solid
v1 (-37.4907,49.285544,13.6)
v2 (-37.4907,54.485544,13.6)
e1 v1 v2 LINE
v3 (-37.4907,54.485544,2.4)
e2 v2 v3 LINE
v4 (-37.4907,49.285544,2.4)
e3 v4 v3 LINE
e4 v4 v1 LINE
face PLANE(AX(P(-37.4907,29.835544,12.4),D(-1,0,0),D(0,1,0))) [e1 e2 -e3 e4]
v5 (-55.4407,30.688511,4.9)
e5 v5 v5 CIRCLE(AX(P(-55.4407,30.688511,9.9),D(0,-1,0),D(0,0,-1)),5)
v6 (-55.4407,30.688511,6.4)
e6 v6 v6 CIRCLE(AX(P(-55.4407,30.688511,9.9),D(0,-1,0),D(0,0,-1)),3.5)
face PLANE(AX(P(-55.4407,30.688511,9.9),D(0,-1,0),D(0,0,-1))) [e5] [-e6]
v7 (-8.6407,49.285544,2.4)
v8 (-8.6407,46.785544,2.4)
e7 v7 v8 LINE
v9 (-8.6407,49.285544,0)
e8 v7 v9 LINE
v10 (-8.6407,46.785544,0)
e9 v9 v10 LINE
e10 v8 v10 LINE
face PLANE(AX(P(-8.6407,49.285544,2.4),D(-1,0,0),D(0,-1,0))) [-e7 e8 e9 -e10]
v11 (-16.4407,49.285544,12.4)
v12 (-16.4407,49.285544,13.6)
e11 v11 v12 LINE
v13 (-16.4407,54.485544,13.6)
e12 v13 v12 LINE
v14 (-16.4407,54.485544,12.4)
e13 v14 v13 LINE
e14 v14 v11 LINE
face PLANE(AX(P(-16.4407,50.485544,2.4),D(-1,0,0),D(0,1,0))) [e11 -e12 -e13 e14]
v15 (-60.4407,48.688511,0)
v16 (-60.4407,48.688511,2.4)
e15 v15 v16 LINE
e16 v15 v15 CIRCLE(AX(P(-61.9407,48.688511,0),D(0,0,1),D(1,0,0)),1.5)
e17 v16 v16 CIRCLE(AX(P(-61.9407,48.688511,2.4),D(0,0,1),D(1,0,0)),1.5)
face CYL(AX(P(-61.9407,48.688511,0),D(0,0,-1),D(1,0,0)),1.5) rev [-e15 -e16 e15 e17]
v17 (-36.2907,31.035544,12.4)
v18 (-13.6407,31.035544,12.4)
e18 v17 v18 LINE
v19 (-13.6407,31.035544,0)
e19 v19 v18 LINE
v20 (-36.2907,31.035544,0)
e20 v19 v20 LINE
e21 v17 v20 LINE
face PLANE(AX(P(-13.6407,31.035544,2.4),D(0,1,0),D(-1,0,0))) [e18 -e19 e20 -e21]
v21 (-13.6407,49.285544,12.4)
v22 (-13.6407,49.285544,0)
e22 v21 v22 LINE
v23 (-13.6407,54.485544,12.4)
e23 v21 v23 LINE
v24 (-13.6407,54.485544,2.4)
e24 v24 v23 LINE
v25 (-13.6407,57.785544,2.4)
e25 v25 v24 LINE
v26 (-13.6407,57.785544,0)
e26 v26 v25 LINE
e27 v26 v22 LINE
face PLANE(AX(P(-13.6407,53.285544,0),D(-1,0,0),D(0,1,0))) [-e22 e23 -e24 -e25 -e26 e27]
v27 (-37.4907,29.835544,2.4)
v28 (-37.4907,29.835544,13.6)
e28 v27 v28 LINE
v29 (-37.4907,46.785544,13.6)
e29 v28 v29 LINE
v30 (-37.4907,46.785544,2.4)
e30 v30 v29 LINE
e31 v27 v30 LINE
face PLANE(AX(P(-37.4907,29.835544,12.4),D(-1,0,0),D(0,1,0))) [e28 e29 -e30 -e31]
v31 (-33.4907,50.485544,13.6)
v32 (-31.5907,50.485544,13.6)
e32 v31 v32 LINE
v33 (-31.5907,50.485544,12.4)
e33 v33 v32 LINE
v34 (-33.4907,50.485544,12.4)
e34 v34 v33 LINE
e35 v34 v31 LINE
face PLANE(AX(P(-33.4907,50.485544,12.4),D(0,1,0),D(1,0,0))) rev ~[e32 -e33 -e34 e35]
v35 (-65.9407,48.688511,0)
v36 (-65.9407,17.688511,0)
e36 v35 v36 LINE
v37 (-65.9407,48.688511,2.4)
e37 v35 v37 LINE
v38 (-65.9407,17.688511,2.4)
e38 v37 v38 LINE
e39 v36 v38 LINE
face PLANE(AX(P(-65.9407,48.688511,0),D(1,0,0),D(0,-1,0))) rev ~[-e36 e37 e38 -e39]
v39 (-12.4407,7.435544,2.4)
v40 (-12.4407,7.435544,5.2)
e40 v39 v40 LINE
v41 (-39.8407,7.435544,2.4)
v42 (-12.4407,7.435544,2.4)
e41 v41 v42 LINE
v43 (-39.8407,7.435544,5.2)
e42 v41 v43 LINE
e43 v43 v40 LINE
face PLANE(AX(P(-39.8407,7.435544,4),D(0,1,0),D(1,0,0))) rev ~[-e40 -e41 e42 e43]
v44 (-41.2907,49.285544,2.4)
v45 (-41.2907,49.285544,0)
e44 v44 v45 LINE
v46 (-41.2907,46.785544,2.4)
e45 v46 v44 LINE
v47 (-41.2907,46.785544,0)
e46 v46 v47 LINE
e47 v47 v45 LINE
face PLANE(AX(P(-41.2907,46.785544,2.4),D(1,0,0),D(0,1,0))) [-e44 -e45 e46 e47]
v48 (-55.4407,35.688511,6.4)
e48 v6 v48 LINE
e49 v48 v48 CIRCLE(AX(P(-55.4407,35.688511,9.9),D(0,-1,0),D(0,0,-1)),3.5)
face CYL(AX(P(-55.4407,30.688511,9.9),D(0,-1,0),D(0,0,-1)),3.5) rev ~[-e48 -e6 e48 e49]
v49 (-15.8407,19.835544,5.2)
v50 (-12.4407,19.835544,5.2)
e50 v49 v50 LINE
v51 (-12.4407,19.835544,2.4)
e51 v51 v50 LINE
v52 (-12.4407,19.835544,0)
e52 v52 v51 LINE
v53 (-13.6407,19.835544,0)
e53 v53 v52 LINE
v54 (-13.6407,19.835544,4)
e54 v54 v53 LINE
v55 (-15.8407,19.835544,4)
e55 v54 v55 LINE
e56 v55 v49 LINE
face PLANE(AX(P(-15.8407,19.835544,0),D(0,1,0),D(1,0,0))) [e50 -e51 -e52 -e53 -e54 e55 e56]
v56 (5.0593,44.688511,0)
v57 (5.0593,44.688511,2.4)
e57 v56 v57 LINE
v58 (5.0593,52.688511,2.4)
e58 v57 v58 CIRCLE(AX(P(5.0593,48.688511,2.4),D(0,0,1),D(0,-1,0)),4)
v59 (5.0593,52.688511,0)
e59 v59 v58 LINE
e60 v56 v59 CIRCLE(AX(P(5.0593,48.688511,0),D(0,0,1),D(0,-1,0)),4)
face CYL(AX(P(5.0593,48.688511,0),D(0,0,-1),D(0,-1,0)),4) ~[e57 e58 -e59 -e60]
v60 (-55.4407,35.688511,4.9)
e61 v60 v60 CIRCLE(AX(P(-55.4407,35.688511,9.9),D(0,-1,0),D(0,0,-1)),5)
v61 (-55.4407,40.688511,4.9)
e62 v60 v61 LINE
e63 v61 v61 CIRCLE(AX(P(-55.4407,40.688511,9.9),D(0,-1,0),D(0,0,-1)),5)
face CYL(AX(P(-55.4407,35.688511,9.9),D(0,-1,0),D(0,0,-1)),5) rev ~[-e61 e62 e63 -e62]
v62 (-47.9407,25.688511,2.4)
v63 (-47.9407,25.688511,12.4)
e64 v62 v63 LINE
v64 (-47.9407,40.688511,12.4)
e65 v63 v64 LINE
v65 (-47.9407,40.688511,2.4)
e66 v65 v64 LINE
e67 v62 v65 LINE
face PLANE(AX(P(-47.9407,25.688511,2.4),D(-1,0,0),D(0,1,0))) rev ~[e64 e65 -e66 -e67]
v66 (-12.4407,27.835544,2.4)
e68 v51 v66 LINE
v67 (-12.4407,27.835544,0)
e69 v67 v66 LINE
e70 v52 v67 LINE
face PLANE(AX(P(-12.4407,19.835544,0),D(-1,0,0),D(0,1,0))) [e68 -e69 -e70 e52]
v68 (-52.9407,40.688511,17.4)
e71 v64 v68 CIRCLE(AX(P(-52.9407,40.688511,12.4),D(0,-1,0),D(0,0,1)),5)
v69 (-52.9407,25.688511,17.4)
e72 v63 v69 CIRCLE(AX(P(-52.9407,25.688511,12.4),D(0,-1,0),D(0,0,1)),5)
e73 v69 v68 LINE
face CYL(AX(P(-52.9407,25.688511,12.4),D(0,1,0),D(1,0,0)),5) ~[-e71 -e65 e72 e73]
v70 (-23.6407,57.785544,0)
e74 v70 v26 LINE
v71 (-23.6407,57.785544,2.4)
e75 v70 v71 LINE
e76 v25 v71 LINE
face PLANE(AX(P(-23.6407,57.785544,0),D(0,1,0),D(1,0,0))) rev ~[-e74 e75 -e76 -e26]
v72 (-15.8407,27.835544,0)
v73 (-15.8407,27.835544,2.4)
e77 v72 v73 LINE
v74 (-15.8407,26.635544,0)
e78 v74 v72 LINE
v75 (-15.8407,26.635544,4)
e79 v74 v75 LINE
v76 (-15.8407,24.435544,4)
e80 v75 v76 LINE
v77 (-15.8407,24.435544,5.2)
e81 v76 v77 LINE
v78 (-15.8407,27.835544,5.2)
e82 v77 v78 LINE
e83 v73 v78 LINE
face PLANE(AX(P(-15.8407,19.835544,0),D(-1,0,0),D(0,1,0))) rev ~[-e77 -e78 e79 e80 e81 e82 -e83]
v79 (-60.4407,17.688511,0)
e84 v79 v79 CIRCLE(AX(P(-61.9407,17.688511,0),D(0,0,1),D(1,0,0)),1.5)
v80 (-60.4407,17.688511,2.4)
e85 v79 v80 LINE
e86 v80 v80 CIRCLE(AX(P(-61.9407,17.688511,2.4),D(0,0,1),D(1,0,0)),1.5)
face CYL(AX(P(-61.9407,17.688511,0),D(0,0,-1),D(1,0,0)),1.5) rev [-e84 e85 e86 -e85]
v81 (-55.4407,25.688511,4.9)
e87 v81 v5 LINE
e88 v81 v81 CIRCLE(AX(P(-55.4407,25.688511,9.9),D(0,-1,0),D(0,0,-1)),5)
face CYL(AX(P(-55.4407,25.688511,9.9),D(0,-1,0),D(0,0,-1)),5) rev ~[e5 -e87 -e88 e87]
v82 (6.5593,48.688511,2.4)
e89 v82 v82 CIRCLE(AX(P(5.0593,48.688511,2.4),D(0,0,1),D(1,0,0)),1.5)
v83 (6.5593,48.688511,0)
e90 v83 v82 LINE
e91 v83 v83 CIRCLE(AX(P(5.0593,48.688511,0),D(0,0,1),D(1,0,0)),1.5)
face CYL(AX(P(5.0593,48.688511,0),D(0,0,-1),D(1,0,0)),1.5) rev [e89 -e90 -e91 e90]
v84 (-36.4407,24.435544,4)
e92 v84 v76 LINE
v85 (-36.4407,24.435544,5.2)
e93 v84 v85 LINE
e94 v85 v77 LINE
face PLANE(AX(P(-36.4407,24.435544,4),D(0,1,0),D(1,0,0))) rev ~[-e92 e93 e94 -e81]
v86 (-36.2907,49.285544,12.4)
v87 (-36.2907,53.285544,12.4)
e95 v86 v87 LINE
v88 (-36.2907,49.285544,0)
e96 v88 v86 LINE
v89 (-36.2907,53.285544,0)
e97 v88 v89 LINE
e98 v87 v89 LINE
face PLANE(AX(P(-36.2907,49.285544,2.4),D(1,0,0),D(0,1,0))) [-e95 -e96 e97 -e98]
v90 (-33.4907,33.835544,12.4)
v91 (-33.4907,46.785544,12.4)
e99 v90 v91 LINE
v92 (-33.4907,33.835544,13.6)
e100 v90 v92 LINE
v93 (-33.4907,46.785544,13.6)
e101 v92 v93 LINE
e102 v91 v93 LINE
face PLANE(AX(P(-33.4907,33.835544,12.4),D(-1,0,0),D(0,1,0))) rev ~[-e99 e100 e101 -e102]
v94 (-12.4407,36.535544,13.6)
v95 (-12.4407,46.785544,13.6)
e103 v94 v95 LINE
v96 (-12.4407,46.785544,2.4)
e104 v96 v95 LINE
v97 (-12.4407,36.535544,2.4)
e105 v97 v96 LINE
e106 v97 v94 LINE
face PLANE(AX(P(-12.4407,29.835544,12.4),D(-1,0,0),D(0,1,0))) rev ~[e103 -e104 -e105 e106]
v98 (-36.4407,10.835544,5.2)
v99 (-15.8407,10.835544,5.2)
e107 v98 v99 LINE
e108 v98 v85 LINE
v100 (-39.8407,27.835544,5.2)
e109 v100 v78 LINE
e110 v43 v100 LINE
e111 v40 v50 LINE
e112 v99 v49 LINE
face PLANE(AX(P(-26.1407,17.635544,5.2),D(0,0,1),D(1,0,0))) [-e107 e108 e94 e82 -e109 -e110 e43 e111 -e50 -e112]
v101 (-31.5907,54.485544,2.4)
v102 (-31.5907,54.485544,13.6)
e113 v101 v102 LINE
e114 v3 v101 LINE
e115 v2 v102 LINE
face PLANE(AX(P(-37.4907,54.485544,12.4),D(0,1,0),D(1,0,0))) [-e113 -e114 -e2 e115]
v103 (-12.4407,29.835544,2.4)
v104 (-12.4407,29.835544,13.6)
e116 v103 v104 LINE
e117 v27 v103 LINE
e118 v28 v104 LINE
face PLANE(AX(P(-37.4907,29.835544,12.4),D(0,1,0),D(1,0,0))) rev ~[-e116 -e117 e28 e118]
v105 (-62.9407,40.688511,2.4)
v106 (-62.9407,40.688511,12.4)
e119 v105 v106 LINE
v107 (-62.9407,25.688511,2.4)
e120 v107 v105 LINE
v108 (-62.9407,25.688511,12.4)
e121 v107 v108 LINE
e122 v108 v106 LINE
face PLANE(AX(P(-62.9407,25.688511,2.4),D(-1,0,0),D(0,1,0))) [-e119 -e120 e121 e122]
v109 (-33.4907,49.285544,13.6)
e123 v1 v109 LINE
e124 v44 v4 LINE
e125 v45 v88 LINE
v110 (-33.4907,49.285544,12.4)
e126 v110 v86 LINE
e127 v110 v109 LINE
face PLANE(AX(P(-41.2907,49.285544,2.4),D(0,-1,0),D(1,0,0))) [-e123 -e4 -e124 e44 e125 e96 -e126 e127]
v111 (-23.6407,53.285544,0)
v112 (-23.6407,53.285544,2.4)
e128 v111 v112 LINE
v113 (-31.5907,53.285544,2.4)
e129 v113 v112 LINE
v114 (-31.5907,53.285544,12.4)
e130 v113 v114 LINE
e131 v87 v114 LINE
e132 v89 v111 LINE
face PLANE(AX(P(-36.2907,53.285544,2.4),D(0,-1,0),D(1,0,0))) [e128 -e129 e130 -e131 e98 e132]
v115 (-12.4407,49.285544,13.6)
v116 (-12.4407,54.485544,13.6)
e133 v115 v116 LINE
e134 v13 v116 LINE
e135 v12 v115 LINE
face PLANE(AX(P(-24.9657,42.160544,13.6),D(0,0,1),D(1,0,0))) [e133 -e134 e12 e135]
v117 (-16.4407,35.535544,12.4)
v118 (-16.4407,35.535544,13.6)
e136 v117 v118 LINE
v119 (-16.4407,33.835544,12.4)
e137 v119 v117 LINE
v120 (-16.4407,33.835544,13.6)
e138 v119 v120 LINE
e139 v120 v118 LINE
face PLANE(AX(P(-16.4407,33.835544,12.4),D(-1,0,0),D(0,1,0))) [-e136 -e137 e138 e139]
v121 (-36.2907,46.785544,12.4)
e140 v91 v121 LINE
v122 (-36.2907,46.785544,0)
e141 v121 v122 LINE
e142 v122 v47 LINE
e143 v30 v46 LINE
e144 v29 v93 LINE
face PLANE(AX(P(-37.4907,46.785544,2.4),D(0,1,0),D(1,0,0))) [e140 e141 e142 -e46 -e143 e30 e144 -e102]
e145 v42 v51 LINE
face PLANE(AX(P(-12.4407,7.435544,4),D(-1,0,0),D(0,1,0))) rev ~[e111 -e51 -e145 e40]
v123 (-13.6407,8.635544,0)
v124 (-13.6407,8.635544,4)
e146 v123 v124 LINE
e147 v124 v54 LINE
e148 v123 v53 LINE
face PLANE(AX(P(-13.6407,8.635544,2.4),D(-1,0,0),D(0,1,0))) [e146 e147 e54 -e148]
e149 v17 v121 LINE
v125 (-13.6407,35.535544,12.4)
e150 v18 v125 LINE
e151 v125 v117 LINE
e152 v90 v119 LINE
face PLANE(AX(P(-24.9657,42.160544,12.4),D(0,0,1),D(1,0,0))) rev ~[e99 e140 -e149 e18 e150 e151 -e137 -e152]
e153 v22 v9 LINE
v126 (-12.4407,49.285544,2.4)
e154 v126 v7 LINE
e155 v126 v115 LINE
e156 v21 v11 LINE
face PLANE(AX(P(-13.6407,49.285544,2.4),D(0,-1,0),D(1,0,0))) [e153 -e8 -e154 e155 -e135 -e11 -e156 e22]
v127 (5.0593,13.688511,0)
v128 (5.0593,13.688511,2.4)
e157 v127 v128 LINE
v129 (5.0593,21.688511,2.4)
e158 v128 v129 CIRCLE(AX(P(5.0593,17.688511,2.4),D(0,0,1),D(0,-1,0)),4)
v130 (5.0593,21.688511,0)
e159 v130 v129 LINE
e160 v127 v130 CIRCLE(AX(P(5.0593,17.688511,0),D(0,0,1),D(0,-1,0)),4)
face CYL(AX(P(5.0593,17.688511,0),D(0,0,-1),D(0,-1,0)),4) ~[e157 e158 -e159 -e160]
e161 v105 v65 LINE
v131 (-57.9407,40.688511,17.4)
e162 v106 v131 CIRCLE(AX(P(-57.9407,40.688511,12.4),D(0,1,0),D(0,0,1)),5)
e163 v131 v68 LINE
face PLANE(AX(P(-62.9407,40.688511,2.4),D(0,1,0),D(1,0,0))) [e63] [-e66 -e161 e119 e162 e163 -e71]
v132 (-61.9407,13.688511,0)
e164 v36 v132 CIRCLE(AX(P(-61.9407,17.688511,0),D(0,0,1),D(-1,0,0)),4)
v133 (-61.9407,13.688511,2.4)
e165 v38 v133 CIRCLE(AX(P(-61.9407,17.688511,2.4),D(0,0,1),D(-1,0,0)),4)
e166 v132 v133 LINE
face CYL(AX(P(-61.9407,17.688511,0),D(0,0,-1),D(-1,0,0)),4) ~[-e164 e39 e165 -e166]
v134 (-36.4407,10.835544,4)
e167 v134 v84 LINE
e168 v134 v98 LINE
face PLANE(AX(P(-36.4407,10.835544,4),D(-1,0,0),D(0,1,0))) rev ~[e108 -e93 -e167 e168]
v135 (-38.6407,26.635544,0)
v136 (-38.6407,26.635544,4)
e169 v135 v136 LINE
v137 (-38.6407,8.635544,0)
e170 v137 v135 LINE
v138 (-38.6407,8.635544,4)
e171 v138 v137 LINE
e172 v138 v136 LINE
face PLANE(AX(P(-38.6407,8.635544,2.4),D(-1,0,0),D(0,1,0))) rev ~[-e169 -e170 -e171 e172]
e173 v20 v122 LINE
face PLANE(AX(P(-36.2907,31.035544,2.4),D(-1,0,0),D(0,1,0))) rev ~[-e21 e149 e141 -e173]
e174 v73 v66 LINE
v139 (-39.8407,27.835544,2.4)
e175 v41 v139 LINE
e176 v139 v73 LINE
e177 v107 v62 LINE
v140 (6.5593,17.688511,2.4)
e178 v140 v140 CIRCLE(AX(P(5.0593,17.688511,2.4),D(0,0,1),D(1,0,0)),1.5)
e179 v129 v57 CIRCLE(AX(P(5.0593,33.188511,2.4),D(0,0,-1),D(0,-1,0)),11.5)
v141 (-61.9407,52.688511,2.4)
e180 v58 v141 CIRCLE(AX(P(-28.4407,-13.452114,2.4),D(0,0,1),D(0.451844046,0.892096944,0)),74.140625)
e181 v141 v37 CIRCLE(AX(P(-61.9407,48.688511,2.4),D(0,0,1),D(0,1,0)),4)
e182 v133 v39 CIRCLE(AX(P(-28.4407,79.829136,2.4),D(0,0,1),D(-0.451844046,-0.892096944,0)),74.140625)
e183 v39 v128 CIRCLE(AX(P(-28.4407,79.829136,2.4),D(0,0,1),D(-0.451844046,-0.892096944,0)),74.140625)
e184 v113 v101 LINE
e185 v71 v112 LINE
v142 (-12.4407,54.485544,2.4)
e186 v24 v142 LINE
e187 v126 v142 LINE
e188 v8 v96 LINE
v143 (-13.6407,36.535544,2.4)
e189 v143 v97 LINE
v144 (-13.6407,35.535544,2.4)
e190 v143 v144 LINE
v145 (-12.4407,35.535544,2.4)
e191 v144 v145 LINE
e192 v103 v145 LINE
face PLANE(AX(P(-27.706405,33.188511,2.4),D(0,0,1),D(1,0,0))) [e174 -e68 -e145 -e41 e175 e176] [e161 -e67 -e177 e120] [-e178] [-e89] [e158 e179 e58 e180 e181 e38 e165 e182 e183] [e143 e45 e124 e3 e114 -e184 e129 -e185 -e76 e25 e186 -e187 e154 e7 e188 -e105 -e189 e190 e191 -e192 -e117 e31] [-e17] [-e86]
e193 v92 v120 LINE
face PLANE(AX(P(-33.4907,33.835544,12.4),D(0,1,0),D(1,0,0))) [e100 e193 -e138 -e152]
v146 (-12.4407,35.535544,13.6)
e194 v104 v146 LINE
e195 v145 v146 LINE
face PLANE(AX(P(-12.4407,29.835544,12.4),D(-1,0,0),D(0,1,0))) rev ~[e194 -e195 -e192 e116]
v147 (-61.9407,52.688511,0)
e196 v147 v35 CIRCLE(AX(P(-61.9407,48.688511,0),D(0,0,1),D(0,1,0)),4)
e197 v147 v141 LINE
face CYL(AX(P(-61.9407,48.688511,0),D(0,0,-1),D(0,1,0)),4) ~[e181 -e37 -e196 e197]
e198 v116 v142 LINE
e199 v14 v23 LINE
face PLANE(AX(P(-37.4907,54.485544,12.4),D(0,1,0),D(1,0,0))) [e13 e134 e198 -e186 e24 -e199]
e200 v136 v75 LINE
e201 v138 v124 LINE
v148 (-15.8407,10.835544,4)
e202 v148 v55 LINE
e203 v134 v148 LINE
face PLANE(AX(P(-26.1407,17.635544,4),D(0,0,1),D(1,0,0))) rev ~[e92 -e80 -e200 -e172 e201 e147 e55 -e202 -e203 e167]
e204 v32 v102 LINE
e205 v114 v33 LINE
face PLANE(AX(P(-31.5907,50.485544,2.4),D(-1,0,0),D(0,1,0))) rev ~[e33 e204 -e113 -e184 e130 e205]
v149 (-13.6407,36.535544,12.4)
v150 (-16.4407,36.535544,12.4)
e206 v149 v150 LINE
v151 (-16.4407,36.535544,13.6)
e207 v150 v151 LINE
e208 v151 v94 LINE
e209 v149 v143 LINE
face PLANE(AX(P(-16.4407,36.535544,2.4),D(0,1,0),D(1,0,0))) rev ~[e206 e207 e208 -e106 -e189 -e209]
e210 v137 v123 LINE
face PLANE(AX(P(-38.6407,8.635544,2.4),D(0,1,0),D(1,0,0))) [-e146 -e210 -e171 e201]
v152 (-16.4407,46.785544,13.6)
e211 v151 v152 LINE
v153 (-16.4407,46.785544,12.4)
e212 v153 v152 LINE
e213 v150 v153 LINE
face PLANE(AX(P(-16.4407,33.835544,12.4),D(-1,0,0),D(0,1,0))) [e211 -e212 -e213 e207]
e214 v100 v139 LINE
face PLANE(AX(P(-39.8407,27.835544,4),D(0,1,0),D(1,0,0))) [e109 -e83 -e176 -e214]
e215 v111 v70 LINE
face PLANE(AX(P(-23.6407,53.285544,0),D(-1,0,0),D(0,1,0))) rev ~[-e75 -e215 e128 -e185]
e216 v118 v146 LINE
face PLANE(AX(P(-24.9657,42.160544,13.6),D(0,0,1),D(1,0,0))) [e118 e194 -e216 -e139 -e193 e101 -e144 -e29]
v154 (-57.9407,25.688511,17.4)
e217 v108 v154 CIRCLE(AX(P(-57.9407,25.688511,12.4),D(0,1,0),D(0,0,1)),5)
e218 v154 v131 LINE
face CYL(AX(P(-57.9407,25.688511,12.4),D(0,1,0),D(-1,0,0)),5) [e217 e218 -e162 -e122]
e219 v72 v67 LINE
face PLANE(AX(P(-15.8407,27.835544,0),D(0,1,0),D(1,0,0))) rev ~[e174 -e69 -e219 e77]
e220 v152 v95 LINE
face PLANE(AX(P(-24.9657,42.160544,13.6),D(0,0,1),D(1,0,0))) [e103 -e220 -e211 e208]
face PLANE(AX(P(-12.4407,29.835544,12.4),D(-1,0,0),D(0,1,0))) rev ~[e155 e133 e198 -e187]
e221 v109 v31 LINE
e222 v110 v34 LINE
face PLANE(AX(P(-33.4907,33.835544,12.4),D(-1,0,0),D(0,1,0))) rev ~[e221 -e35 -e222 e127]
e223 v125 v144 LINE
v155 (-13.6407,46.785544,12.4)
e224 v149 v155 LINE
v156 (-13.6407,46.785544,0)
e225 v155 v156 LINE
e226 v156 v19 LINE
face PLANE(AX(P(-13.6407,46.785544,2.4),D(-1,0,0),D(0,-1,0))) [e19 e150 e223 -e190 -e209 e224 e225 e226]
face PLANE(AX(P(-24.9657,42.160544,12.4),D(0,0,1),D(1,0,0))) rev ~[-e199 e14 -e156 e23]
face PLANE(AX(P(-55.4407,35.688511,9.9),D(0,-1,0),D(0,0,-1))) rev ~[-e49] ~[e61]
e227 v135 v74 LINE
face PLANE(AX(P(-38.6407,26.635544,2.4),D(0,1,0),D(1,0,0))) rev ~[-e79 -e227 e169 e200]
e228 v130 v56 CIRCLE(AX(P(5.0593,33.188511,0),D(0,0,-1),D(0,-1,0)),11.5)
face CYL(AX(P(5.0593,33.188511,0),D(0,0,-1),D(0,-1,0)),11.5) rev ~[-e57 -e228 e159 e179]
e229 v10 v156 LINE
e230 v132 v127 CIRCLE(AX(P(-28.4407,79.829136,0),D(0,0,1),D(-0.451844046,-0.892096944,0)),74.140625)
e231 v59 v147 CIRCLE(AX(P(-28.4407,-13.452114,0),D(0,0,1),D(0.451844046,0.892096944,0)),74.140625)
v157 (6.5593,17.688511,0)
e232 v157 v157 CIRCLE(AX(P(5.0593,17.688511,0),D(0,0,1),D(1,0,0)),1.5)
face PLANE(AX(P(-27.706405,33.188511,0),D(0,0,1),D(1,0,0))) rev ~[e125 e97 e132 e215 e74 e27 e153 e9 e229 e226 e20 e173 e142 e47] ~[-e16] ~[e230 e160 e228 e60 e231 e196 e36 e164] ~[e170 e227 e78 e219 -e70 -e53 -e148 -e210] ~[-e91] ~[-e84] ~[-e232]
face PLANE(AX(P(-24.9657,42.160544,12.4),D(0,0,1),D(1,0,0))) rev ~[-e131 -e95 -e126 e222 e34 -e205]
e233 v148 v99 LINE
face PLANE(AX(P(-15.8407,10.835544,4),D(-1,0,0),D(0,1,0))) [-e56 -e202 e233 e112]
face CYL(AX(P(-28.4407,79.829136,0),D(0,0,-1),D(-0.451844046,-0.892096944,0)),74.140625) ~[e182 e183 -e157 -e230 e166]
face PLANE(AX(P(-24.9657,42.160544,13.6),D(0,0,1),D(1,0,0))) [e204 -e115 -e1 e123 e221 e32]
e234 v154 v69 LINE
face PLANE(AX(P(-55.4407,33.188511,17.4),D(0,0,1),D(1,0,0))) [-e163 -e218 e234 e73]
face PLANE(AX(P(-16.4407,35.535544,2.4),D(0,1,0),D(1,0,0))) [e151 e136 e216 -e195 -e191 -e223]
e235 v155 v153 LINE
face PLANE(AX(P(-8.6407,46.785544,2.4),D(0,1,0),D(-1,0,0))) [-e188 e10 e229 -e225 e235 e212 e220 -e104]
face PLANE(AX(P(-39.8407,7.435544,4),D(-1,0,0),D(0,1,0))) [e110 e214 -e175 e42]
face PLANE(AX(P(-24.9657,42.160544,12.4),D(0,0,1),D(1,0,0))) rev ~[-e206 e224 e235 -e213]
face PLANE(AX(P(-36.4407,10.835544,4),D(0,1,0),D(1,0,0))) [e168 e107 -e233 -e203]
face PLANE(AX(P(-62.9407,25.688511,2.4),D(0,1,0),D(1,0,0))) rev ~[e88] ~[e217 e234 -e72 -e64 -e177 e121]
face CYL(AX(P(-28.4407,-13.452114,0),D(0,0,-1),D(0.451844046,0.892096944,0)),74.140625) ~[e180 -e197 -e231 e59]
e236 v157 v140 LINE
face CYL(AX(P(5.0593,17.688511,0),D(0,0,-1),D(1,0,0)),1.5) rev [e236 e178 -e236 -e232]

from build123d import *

# Parameters (mm, degrees)
CROQUIS1_R                 = 1.5
SALIENTE_EXTRUIR1_DEPTH    = 2.4
CROQUIS3_W                 = 25.05
CROQUIS3_H                 = 24.65
CROQUIS3_W_2               = 22.65
CROQUIS3_H_2               = 22.25
SALIENTE_EXTRUIR2_DEPTH    = 10
CROQUIS4_W                 = 25.05
CROQUIS4_H                 = 24.65
CROQUIS4_W_2               = 17.05
CROQUIS4_H_2               = 16.65
SALIENTE_EXTRUIR3_DEPTH    = 1.2
CORTAR_EXTRUIR1_START      = -11.2
CROQUIS5_W                 = 4
CROQUIS5_H                 = 2.5
CROQUIS5_W_2               = 15.15
CROQUIS5_H_2               = 4
CROQUIS5_H_3               = 1
CORTAR_EXTRUIR1_DEPTH      = 11.2
CROQUIS6_W                 = 27.4
CROQUIS6_H                 = 20.4
CROQUIS6_W_2               = 25
CROQUIS6_H_2               = 18
SALIENTE_EXTRUIR4_DEPTH    = 1.6
CROQUIS8_W                 = 15
CROQUIS8_H                 = 15
SALIENTE_EXTRUIR5_DEPTH    = 15
CROQUIS10_R                = 5
CORTAR_EXTRUIR2_DEPTH      = 5
CORTAR_EXTRUIR3_START      = -10
CROQUIS10_2_R              = 5
CORTAR_EXTRUIR3_DEPTH      = 5
CROQUIS11_R                = 3.5
CORTAR_EXTRUIR4_DEPTH      = 5
CORTAR_EXTRUIR5_DEPTH      = 2.4
CORTAR_EXTRUIR6_DEPTH      = 10
CORTAR_EXTRUIR6_DEPTH_BACK = 2.4
CROQUIS13_W                = 10
CROQUIS13_H                = 4.5
CROQUIS14_W                = 27.4
CROQUIS14_H                = 20.4
CROQUIS14_W_2              = 20.6
CROQUIS14_H_2              = 13.6
SALIENTE_EXTRUIR6_DEPTH    = 1.2
CROQUIS15_W                = 25
CROQUIS15_H                = 18
CORTAR_EXTRUIR7_DEPTH      = 2.4
CORTAR_EXTRUIR8_START      = -5.2
CROQUIS16_W                = 3.4
CROQUIS16_H                = 8
CORTAR_EXTRUIR8_DEPTH      = 5.2
REDONDEO1_R                = 5


with BuildPart() as part:
    # Croquis1 → Saliente-Extruir1 (new body)
    with BuildSketch(Plane.XY):
        with BuildLine():
            Line((-65.940699516, 48.688511327), (-65.940699516, 17.688511327))
            ThreePointArc((-65.940699516, 17.688511327), (-64.76912664, 14.860084202), (-61.940699516, 13.688511327))
            ThreePointArc((-61.940699516, 13.688511327), (-28.440699516, 5.688511327), (5.059300484, 13.688511327))
            ThreePointArc((5.059300484, 13.688511327), (9.059300484, 17.688511327), (5.059300484, 21.688511327))
            ThreePointArc((5.059300484, 21.688511327), (-6.440699516, 33.188511327), (5.059300484, 44.688511327))
            ThreePointArc((5.059300484, 44.688511327), (9.059300484, 48.688511327), (5.059300484, 52.688511327))
            ThreePointArc((5.059300484, 52.688511327), (-28.440699516, 60.688511327), (-61.940699516, 52.688511327))
            ThreePointArc((-61.940699516, 52.688511327), (-64.76912664, 51.516938452), (-65.940699516, 48.688511327))
        make_face()
        with Locations((-61.940699516, 48.688511327)):
            Circle(CROQUIS1_R, mode=Mode.SUBTRACT)
        with Locations((5.059300484, 48.688511327)):
            Circle(CROQUIS1_R, mode=Mode.SUBTRACT)
        with Locations((5.059300484, 17.688511327)):
            Circle(CROQUIS1_R, mode=Mode.SUBTRACT)
        with Locations((-61.940699516, 17.688511327)):
            Circle(CROQUIS1_R, mode=Mode.SUBTRACT)
    extrude(amount=SALIENTE_EXTRUIR1_DEPTH)

    # Croquis3 → Saliente-Extruir2 (add)
    with BuildSketch(Plane.XY.offset(2.4)):
        with Locations((-24.965699516, 42.160543548)):
            Rectangle(CROQUIS3_W, CROQUIS3_H)
        with Locations((-24.965699516, 42.160543548)):
            Rectangle(CROQUIS3_W_2, CROQUIS3_H_2, mode=Mode.SUBTRACT)
    extrude(amount=SALIENTE_EXTRUIR2_DEPTH)

    # Croquis4 → Saliente-Extruir3 (add)
    with BuildSketch(Plane.XY.offset(12.4)):
        with Locations((-24.965699516, 42.160543548)):
            Rectangle(CROQUIS4_W, CROQUIS4_H)
        with Locations((-24.965699516, 42.160543548)):
            Rectangle(CROQUIS4_W_2, CROQUIS4_H_2, mode=Mode.SUBTRACT)
    extrude(amount=SALIENTE_EXTRUIR3_DEPTH)

    # Croquis5 → Cortar-Extruir1 (cut)
    with BuildSketch(Plane.XY.offset(13.6).offset(CORTAR_EXTRUIR1_START)):
        with Locations((-35.490699516, 48.035543548)):
            Rectangle(CROQUIS5_W, CROQUIS5_H)
        with Locations((-24.015699516, 52.485543548)):
            Rectangle(CROQUIS5_W_2, CROQUIS5_H_2)
        with Locations((-14.440699516, 36.035543548)):
            Rectangle(CROQUIS5_W, CROQUIS5_H_3)
        with Locations((-14.440699516, 48.035543548)):
            Rectangle(CROQUIS5_W, CROQUIS5_H)
    extrude(amount=CORTAR_EXTRUIR1_DEPTH, mode=Mode.SUBTRACT)

    # Croquis6 → Saliente-Extruir4 (add)
    with BuildSketch(Plane.XY.offset(2.4)):
        with Locations((-26.140699516, 17.635543548)):
            Rectangle(CROQUIS6_W, CROQUIS6_H)
        with Locations((-26.140699516, 17.635543548)):
            Rectangle(CROQUIS6_W_2, CROQUIS6_H_2, mode=Mode.SUBTRACT)
    extrude(amount=SALIENTE_EXTRUIR4_DEPTH)

    # Croquis8 → Saliente-Extruir5 (add)
    with BuildSketch(Plane.XY.offset(2.4)):
        with Locations((-55.440699516, 33.188511327)):
            Rectangle(CROQUIS8_W, CROQUIS8_H)
    extrude(amount=SALIENTE_EXTRUIR5_DEPTH)

    # Croquis10 → Cortar-Extruir2 (cut)
    with BuildSketch(Plane.XZ.offset(-25.688511327)):
        with Locations(Location((-55.440699516, 9.9, 0), (0, 0, 270))):
            Circle(CROQUIS10_R)
    extrude(amount=-CORTAR_EXTRUIR2_DEPTH, mode=Mode.SUBTRACT)

    # Croquis10<2> → Cortar-Extruir3 (cut)
    with BuildSketch(Plane.XZ.offset(-25.688511327).offset(CORTAR_EXTRUIR3_START)):
        with Locations(Location((-55.440699516, 9.9, 0), (0, 0, 270))):
            Circle(CROQUIS10_2_R)
    extrude(amount=-CORTAR_EXTRUIR3_DEPTH, mode=Mode.SUBTRACT)

    # Croquis11 → Cortar-Extruir4 (cut)
    with BuildSketch(Plane.XZ.offset(-30.688511327)):
        with Locations(Location((-55.440699516, 9.9, 0), (0, 0, 270))):
            Circle(CROQUIS11_R)
    extrude(amount=-CORTAR_EXTRUIR4_DEPTH, mode=Mode.SUBTRACT)

    # Croquis12 → Cortar-Extruir5 (cut)
    with BuildSketch(Plane.XY.offset(2.4)):
        Polygon((-36.290699516, 53.285543548), (-13.640699516, 53.285543548), (-13.640699516, 49.285543548), (-8.640699516, 49.285543548), (-8.640699516, 46.785543548), (-13.640699516, 46.785543548), (-13.640699516, 31.035543548), (-36.290699516, 31.035543548), (-36.290699516, 46.785543548), (-41.290699516, 46.785543548), (-41.290699516, 49.285543548), (-36.290699516, 49.285543548), align=None)
    extrude(amount=-CORTAR_EXTRUIR5_DEPTH, mode=Mode.SUBTRACT)

    # Croquis13 → Cortar-Extruir6 (cut, two sides: drawn at the far end of the back side and taken through both)
    with BuildSketch(Plane.XY.offset(2.4).offset(-CORTAR_EXTRUIR6_DEPTH_BACK)):
        with Locations((-18.640699516, 55.535543548)):
            Rectangle(CROQUIS13_W, CROQUIS13_H)
    extrude(amount=CORTAR_EXTRUIR6_DEPTH + CORTAR_EXTRUIR6_DEPTH_BACK, mode=Mode.SUBTRACT)

    # Croquis14 → Saliente-Extruir6 (add)
    with BuildSketch(Plane.XY.offset(4)):
        with Locations((-26.140699516, 17.635543548)):
            Rectangle(CROQUIS14_W, CROQUIS14_H)
        with Locations((-26.140699516, 17.635543548)):
            Rectangle(CROQUIS14_W_2, CROQUIS14_H_2, mode=Mode.SUBTRACT)
    extrude(amount=SALIENTE_EXTRUIR6_DEPTH)

    # Croquis15 → Cortar-Extruir7 (cut)
    with BuildSketch(Plane.XY.offset(2.4)):
        with Locations((-26.140699516, 17.635543548)):
            Rectangle(CROQUIS15_W, CROQUIS15_H)
    extrude(amount=-CORTAR_EXTRUIR7_DEPTH, mode=Mode.SUBTRACT)

    # Croquis16 → Cortar-Extruir8 (cut)
    with BuildSketch(Plane.XY.offset(5.2).offset(CORTAR_EXTRUIR8_START)):
        with Locations((-14.140699516, 23.835543548)):
            Rectangle(CROQUIS16_W, CROQUIS16_H)
    extrude(amount=CORTAR_EXTRUIR8_DEPTH, mode=Mode.SUBTRACT)

    # Redondeo1
    redondeo1_edges = [part.edges().sort_by_distance(p)[0] for p in [
        (-62.940699516, 33.188511327, 17.4),
        (-47.940699516, 33.188511327, 17.4),
    ]]
    fillet(redondeo1_edges, radius=REDONDEO1_R)


solid = part.part
